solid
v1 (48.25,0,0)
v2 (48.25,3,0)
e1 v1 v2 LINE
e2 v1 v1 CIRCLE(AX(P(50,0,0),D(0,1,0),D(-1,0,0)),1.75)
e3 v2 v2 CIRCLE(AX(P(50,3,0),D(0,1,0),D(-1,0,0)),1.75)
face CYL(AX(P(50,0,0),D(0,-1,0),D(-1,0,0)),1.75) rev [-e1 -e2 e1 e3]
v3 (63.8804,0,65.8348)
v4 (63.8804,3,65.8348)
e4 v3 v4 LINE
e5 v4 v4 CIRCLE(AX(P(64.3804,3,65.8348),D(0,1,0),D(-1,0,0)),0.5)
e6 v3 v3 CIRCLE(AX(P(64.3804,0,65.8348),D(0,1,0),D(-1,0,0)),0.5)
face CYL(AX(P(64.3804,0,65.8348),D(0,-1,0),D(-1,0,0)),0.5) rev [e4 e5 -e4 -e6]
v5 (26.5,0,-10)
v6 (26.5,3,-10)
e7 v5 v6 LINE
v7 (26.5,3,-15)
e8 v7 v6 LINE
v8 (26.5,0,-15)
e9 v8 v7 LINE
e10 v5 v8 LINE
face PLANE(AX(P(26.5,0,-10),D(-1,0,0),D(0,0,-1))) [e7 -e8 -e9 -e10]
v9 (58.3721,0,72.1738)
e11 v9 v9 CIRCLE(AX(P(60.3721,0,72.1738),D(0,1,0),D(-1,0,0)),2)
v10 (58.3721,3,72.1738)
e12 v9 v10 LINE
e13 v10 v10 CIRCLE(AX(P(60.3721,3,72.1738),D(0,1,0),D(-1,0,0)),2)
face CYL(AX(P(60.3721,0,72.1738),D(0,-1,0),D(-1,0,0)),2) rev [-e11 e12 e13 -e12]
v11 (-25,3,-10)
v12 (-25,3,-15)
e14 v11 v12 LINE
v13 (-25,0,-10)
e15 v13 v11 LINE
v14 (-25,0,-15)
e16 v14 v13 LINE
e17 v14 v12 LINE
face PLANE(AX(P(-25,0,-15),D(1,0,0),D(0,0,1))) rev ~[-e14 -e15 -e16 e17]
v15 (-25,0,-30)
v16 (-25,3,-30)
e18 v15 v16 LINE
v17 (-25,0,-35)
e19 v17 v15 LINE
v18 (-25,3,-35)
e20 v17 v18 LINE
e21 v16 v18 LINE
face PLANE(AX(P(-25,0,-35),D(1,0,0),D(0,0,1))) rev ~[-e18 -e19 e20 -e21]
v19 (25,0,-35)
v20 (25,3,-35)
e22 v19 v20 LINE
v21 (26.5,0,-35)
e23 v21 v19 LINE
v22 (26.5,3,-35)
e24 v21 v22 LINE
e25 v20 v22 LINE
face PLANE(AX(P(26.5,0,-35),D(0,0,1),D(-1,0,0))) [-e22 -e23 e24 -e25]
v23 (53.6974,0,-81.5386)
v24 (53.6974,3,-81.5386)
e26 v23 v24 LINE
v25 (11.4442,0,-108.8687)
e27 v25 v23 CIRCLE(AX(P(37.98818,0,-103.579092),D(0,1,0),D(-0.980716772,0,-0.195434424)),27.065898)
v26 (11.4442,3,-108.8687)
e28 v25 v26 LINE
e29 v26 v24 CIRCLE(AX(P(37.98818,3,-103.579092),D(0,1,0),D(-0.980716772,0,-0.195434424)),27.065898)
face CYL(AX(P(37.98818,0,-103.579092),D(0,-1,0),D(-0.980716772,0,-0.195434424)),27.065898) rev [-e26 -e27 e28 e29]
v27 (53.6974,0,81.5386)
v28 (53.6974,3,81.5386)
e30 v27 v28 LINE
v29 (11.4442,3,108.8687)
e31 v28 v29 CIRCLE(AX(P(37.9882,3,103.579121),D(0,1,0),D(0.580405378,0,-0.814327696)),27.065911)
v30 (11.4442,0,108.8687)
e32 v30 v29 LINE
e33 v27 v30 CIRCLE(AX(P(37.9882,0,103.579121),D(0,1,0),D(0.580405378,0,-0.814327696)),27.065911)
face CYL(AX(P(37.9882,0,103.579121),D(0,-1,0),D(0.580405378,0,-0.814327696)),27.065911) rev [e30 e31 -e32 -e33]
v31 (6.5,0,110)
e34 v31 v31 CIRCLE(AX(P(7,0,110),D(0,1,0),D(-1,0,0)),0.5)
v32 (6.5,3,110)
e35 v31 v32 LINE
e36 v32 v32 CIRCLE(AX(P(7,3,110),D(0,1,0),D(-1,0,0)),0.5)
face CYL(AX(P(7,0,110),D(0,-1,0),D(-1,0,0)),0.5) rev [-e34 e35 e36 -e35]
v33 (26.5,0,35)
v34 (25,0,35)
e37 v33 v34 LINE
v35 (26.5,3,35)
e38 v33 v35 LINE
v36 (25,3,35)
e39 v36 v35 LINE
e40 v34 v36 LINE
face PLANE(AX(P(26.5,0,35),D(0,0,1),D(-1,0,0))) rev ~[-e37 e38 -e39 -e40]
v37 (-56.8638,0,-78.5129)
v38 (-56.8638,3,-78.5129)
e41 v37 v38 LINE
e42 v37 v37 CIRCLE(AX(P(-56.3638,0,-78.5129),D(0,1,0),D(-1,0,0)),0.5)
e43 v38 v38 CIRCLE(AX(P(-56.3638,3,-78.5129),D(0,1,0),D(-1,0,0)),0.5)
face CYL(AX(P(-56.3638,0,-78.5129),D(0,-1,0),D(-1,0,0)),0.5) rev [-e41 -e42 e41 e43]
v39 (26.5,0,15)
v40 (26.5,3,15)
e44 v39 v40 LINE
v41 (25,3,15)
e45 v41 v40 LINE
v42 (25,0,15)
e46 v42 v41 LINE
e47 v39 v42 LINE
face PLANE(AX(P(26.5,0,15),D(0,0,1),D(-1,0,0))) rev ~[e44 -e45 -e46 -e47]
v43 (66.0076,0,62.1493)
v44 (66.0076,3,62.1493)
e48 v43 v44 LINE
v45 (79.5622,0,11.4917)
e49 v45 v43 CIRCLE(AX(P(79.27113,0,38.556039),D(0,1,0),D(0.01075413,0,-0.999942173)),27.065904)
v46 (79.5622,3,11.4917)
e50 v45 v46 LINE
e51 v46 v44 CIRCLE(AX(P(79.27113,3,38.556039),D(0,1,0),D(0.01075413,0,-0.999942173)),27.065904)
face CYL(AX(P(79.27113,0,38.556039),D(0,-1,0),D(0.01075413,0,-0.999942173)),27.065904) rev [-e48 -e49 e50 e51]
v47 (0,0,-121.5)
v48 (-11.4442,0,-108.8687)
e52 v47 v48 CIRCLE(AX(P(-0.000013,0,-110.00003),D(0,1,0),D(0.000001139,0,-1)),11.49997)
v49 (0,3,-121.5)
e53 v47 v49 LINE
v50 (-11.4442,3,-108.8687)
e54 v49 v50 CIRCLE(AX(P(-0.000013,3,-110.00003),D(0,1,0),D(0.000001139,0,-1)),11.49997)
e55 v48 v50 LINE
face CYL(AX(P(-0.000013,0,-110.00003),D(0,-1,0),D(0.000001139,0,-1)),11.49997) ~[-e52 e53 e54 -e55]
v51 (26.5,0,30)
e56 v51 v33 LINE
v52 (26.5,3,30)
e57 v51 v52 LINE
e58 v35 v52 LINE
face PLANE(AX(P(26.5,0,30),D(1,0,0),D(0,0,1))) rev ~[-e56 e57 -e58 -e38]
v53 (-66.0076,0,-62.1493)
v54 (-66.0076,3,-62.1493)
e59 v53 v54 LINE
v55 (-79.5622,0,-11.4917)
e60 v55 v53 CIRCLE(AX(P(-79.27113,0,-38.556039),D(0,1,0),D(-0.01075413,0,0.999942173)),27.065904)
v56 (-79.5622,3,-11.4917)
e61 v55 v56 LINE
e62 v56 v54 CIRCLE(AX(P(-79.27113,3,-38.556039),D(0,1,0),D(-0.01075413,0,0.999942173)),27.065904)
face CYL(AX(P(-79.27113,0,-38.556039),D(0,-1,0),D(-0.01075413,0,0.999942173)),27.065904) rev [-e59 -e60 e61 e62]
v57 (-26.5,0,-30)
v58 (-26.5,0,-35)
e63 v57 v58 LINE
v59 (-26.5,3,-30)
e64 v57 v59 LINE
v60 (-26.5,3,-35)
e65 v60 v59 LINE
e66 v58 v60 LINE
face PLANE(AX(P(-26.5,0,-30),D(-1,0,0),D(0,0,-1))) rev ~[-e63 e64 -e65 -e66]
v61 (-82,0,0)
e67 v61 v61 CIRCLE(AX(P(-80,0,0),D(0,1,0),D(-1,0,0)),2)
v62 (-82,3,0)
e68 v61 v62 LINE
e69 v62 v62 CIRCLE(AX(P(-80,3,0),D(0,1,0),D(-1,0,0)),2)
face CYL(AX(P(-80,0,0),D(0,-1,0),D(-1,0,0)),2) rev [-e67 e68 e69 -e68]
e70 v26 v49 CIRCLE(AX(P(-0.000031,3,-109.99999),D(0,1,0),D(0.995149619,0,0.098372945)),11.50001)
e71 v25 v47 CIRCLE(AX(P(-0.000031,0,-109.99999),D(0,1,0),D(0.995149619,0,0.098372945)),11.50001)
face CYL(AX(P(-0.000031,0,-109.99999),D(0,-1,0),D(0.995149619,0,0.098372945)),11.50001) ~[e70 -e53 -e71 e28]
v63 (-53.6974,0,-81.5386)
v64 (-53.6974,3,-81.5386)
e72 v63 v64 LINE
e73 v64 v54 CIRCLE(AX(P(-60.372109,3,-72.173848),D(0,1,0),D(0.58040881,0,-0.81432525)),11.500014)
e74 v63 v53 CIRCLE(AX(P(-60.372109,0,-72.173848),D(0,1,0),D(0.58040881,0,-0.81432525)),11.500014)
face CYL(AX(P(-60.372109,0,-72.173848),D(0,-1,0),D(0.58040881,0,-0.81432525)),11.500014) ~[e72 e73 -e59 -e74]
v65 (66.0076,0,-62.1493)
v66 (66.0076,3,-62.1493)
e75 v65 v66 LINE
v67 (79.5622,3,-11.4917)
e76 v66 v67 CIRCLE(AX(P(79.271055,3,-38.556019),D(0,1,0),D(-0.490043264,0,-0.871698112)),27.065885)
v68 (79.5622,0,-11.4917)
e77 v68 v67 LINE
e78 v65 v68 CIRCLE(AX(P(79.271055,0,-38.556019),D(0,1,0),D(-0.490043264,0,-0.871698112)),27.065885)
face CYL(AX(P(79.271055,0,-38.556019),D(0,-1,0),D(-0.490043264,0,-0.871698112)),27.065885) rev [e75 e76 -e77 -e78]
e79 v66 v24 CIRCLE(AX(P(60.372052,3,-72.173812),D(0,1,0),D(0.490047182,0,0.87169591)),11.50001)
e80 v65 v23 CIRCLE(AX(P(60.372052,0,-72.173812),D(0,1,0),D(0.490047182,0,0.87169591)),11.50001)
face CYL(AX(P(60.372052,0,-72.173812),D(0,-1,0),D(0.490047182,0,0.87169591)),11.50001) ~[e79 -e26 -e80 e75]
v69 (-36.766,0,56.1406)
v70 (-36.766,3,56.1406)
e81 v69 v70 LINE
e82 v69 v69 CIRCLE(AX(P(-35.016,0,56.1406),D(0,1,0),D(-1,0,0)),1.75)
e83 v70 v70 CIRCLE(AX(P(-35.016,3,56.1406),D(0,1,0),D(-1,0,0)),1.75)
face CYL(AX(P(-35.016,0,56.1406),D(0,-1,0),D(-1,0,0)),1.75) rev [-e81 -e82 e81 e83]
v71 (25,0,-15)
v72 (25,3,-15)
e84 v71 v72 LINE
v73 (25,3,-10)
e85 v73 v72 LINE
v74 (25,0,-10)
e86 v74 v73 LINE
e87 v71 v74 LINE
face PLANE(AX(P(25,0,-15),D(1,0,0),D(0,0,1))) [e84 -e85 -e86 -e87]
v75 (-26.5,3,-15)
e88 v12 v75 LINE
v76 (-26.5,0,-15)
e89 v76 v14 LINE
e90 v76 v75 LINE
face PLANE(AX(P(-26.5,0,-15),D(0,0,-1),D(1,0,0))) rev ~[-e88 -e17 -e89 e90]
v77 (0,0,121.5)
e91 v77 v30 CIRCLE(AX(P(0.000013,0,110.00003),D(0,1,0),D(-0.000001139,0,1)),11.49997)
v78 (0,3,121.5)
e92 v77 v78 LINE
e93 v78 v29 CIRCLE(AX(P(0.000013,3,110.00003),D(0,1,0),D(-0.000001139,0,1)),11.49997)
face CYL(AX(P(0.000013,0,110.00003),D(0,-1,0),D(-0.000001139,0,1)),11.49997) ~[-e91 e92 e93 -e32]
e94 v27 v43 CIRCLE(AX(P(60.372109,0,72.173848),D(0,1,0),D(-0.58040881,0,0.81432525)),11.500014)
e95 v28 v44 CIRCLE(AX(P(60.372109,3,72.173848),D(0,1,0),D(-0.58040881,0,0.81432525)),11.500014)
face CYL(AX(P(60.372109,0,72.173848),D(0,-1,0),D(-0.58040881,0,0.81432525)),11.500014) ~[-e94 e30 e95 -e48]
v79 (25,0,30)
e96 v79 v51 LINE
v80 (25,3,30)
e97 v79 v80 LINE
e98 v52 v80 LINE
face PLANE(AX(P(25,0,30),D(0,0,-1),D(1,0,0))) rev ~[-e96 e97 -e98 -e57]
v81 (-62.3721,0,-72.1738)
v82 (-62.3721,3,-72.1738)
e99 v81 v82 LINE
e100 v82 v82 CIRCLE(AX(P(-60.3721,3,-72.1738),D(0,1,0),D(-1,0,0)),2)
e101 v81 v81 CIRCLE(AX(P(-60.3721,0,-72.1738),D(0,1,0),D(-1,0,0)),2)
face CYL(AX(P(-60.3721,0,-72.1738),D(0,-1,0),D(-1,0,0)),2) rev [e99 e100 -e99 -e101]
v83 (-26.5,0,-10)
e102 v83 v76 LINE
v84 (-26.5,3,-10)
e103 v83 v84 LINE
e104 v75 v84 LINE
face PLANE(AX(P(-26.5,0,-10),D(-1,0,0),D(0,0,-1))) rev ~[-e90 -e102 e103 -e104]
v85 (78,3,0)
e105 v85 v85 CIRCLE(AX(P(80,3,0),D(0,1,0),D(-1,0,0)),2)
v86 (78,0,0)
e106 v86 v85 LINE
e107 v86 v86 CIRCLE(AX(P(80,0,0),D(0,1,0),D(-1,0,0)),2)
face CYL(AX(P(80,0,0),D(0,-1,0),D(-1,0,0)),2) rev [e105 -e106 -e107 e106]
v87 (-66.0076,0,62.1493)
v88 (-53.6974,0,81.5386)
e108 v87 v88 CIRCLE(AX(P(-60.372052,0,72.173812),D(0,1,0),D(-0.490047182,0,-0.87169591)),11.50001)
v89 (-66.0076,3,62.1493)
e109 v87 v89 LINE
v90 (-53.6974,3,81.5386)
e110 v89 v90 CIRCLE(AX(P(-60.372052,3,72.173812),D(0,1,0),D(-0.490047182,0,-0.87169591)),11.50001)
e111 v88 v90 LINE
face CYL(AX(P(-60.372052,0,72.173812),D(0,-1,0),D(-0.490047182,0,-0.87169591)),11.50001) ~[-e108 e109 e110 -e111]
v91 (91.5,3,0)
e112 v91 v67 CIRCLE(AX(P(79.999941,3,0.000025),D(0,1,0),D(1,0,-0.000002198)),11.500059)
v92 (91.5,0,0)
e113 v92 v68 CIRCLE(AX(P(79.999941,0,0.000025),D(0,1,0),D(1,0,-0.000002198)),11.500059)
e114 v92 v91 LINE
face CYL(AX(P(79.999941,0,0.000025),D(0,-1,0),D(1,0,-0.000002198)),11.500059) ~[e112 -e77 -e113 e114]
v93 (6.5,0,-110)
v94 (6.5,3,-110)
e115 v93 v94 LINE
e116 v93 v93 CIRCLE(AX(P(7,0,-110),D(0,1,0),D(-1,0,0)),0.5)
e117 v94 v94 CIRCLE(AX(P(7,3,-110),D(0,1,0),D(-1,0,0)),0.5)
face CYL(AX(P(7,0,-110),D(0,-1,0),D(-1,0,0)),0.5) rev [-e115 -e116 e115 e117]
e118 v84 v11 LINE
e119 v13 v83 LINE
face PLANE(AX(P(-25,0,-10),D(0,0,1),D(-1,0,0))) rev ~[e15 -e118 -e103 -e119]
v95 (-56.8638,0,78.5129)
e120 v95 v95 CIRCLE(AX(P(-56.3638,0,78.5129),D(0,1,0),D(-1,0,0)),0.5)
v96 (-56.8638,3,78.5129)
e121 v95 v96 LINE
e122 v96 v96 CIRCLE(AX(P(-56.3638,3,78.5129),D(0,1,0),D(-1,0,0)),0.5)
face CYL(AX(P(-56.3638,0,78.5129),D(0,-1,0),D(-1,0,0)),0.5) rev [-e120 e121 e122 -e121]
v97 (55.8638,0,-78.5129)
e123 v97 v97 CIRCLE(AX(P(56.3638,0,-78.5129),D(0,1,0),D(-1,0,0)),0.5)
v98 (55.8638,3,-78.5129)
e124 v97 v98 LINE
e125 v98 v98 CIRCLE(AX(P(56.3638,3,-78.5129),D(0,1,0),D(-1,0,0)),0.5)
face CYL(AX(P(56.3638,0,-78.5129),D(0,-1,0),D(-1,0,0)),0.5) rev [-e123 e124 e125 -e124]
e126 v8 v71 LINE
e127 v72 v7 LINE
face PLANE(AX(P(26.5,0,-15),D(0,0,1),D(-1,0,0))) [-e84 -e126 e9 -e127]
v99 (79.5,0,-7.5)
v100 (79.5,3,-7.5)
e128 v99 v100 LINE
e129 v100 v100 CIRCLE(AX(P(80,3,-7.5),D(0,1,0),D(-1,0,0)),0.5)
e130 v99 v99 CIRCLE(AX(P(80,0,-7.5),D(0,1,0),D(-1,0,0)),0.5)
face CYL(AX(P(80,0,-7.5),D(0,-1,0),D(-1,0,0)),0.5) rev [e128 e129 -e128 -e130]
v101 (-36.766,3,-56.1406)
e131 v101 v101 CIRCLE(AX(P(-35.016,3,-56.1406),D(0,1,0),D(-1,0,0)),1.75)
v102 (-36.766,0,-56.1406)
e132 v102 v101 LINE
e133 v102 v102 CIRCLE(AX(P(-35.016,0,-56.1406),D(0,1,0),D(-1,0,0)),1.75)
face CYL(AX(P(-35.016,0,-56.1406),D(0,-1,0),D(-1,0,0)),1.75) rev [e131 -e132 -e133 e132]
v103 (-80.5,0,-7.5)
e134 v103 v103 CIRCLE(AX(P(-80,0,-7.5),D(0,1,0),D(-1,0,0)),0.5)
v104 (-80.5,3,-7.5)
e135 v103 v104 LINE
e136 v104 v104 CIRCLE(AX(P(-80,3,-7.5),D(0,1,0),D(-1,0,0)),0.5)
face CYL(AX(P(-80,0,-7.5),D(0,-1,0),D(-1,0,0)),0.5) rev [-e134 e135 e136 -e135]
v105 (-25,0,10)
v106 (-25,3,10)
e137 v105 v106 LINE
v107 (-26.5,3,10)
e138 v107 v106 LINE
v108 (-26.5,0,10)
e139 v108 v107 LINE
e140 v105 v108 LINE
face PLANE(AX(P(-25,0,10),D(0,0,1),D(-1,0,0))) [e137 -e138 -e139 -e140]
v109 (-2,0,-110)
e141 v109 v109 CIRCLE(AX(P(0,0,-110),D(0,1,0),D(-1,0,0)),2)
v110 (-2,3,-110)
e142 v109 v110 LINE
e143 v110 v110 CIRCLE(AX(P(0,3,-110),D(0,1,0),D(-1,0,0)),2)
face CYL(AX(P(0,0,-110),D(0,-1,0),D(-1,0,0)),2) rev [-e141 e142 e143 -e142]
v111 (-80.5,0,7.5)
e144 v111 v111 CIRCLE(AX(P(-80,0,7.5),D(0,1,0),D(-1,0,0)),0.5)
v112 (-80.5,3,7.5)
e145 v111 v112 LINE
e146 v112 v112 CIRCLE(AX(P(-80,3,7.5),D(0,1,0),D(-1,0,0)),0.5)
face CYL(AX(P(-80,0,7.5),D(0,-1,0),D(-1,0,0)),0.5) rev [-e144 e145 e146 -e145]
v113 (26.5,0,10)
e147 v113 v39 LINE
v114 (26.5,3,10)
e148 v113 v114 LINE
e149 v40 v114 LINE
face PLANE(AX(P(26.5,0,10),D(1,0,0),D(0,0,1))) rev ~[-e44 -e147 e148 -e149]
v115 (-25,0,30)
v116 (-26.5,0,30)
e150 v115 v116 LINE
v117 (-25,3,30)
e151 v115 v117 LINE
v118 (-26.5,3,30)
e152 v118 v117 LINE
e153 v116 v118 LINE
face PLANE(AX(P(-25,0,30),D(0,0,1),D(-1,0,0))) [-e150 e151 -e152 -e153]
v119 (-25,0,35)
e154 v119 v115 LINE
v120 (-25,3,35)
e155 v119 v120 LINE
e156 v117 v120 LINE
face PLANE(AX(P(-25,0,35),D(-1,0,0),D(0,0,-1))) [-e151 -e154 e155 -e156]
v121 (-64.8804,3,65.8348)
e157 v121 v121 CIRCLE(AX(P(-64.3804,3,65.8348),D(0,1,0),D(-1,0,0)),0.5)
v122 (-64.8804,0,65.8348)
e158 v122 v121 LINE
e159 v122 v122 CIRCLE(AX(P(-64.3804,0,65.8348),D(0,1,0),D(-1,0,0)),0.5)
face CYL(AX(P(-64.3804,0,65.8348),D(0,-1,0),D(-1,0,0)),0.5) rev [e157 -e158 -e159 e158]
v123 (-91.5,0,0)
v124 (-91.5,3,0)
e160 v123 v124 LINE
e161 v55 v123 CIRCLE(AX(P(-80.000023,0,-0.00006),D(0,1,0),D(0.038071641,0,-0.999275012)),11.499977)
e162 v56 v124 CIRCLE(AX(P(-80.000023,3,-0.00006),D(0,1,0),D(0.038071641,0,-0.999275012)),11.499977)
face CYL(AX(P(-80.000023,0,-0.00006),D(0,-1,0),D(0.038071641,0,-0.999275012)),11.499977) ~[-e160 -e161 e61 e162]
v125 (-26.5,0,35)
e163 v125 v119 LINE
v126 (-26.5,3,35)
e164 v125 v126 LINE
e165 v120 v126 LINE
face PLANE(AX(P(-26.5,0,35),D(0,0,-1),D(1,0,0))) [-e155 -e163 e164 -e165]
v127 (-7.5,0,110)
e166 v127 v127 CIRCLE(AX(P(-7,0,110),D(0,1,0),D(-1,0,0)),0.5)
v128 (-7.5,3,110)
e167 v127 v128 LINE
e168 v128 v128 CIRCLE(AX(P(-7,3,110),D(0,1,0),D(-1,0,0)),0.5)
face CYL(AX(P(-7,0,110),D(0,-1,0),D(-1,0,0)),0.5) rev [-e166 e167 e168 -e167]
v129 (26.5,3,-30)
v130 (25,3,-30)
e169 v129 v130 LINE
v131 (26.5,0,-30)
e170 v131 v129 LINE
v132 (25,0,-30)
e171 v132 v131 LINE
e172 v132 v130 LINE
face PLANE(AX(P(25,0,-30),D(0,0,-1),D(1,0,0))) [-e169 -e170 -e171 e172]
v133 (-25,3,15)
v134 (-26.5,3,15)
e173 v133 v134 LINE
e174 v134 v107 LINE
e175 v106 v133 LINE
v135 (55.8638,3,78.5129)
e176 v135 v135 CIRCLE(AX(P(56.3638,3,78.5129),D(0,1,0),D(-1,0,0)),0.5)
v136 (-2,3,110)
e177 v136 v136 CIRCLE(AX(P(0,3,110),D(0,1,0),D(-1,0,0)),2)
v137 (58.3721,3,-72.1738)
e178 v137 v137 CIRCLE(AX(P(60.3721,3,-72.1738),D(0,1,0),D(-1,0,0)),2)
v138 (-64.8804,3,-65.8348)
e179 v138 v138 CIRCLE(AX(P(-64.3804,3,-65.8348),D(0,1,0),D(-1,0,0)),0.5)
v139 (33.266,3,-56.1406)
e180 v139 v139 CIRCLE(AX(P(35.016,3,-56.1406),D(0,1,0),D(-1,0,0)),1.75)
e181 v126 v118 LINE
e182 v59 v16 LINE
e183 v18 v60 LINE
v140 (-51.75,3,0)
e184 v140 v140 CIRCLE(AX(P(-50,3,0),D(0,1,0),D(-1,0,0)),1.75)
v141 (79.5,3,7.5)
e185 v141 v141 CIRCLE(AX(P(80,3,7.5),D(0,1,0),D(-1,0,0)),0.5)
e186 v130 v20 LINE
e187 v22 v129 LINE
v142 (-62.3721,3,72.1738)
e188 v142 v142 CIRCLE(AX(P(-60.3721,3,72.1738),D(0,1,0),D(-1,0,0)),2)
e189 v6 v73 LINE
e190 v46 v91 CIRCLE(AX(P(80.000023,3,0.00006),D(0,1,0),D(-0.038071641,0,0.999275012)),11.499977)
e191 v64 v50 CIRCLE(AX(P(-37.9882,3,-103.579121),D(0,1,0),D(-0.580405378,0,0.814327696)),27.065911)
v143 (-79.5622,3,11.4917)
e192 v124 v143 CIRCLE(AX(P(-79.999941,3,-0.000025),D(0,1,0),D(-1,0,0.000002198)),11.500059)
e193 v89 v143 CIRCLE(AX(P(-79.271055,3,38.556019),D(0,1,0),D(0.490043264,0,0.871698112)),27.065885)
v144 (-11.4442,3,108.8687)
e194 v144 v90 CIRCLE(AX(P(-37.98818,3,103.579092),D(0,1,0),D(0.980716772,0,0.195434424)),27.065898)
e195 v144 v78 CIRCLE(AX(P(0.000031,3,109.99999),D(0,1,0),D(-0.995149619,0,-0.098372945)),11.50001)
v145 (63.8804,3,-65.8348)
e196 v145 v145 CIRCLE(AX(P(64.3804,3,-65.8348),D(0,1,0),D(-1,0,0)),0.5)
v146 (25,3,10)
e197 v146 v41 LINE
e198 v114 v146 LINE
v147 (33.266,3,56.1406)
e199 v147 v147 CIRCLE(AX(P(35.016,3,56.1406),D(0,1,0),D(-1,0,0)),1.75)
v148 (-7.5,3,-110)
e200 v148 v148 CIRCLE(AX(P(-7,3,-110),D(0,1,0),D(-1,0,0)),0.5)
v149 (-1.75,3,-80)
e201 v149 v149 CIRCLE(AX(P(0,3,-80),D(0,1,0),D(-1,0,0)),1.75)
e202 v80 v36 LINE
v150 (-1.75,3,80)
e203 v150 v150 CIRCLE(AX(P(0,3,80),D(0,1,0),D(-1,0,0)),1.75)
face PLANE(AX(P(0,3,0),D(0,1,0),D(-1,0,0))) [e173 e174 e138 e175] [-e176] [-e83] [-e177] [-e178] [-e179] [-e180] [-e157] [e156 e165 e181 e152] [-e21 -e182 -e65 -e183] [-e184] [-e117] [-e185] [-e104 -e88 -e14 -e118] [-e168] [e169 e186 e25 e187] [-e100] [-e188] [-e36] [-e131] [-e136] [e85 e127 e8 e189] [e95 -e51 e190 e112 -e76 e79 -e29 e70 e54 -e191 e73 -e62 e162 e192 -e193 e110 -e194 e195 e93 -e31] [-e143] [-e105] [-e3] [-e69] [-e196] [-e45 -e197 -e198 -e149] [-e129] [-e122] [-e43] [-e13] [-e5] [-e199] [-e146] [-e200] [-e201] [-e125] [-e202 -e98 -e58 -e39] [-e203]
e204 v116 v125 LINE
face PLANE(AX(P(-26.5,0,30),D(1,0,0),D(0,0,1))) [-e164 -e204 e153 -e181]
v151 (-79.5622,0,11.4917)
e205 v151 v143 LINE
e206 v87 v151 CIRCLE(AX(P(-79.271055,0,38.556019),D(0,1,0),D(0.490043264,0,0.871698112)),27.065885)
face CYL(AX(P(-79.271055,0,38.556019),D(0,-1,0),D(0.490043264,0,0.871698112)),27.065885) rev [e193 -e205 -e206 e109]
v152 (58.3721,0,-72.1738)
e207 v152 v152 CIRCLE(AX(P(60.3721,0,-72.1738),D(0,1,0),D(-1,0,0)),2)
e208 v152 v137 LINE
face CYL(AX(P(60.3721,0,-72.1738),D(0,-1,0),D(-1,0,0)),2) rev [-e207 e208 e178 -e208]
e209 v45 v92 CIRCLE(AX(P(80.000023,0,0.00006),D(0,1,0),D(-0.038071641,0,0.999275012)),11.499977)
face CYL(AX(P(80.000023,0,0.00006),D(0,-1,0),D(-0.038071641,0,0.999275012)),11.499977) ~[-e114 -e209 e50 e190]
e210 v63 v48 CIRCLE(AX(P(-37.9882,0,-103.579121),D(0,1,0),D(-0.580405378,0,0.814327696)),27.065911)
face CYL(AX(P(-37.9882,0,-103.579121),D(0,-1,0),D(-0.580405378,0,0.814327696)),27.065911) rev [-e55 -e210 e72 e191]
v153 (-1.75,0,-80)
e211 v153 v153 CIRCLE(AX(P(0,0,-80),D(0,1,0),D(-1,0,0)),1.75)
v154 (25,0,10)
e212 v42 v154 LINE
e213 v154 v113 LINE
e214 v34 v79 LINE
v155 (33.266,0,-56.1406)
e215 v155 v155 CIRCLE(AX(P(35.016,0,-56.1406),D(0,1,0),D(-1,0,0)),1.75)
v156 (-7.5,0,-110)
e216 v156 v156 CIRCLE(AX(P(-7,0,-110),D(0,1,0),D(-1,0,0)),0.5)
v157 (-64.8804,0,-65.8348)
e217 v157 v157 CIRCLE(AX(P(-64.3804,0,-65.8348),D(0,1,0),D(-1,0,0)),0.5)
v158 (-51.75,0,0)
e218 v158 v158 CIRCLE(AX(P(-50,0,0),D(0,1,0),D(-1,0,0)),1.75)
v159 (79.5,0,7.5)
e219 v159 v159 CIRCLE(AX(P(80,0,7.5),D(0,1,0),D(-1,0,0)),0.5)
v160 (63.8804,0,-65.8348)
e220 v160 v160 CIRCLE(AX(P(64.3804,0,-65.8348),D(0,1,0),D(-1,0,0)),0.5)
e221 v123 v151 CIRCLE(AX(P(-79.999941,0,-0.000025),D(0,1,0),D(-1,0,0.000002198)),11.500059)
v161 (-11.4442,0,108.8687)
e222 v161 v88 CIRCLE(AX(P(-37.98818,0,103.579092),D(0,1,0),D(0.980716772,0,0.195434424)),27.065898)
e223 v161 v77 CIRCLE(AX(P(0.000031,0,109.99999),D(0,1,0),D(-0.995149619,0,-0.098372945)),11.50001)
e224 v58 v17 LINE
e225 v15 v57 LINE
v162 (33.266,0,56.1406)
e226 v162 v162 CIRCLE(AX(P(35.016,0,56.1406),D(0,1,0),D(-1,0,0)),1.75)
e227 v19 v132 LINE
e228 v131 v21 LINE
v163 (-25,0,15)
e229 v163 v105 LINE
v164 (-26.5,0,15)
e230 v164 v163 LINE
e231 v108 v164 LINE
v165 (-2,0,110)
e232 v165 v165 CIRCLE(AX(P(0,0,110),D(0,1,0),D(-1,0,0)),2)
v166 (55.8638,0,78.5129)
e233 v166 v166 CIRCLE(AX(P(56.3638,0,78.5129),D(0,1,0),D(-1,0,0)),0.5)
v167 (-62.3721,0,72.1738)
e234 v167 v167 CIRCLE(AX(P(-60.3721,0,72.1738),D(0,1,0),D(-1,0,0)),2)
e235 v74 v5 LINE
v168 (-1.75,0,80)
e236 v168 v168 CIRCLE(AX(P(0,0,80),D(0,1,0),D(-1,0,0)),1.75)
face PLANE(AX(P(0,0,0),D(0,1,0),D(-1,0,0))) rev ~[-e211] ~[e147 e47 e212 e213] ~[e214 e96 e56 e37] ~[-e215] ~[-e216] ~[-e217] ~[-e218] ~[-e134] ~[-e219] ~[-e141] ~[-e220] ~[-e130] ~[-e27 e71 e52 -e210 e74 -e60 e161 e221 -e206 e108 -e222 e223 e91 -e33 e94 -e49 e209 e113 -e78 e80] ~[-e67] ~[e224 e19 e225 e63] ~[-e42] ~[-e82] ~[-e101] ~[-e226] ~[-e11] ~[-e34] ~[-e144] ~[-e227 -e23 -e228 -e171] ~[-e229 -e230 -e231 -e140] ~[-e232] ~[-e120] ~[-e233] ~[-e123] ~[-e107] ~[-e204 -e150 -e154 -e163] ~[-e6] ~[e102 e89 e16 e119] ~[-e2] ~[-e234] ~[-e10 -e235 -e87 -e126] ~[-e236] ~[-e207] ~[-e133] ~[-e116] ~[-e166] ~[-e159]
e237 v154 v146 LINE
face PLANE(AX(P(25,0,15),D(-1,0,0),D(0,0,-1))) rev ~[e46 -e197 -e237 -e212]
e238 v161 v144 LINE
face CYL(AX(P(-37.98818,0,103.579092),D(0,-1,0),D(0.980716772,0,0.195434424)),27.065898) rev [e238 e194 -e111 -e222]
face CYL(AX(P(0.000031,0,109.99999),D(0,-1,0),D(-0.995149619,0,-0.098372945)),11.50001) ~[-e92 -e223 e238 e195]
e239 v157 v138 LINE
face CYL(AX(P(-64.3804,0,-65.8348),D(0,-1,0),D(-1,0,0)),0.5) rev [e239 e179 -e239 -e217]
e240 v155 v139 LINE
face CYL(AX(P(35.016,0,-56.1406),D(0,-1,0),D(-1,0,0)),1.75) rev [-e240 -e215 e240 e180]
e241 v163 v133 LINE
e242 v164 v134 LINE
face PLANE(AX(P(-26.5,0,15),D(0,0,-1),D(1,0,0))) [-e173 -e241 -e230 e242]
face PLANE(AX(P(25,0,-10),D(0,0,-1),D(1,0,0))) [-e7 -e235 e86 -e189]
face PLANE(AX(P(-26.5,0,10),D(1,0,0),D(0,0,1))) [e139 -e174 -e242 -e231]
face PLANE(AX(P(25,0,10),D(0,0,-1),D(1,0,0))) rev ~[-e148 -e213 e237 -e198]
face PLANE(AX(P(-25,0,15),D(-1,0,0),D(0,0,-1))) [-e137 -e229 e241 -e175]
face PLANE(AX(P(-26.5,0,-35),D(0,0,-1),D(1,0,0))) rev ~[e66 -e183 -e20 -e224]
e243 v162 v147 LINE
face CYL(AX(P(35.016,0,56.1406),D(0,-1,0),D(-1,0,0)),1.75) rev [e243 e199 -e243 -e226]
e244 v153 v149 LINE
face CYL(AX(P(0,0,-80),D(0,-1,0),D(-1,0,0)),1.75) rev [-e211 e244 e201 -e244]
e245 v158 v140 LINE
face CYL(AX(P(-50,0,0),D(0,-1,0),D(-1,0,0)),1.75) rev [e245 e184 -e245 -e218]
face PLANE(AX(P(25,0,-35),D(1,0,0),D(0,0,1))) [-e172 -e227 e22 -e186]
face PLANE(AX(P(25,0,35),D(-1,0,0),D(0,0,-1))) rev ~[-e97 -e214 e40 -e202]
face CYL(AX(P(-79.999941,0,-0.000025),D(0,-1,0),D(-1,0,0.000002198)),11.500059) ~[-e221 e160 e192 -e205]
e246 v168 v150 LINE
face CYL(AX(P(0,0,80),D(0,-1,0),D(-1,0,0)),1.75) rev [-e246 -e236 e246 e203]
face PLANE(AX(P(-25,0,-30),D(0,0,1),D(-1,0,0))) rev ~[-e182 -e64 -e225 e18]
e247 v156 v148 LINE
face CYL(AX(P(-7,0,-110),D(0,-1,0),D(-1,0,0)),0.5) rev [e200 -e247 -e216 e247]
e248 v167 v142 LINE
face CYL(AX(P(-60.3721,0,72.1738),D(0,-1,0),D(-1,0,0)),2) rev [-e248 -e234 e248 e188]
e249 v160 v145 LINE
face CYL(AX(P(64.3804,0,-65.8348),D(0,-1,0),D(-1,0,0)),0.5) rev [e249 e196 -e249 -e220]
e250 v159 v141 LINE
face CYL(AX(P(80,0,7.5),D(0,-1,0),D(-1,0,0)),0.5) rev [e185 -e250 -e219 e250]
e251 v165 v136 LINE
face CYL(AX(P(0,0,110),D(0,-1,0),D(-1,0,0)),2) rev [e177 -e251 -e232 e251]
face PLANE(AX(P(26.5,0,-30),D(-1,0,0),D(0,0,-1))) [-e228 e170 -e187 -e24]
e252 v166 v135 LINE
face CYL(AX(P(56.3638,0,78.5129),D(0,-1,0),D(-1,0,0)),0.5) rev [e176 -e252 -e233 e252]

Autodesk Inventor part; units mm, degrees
ref_plane "YZ Plane" through (0, 0, 0) normal (1, 0, 0) x (0, 1, 0)
ref_plane "XZ Plane" through (0, 0, 0) normal (0, 1, 0) x (-1, 0, 0)
ref_plane "XY Plane" through (0, 0, 0) normal (0, 0, 1) x (1, 0, 0)
sketch "Sketch1" plane through (0, 0, 0) normal (0, 1, 0) x (-1, 0, 0)
  line L0 (0, -135) -> (0, 190) construction
  line L1 (111, 0) -> (-155, 0) construction
  ellipse E0 centre (0, 0) end of major axis (0, 110) minor radius 80 construction
  arc A0 (79.5622, -11.4917) -> (91.5, 0) centre (80, 0) ccw
  arc A1 (0, -121.5) -> (11.4442, -108.8687) centre (0, -110) ccw
  arc A2 (53.6974, -81.5386) -> (66.0076, -62.1493) centre (60.3721, -72.1738) ccw
  arc A3 (79.5622, -11.4917) -> (66.0076, -62.1493) centre (79.2711, -38.556) ccw
  arc A4 (53.6974, -81.5386) -> (11.4442, -108.8687) centre (37.9882, -103.5791) ccw
  arc A5 (-91.5, 0) -> (-79.5622, -11.4917) centre (-80, 0) ccw
  arc A6 (-11.4442, -108.8687) -> (0, -121.5) centre (0, -110) ccw
  arc A7 (-66.0076, -62.1493) -> (-53.6974, -81.5386) centre (-60.3721, -72.1738) ccw
  arc A8 (-66.0076, -62.1493) -> (-79.5622, -11.4917) centre (-79.2711, -38.556) ccw
  arc A9 (-11.4442, -108.8687) -> (-53.6974, -81.5386) centre (-37.9882, -103.5791) ccw
  arc A10 (91.5, 0) -> (79.5622, 11.4917) centre (80, 0) ccw
  arc A11 (11.4442, 108.8687) -> (0, 121.5) centre (0, 110) ccw
  arc A12 (66.0076, 62.1493) -> (53.6974, 81.5386) centre (60.3721, 72.1738) ccw
  arc A13 (66.0076, 62.1493) -> (79.5622, 11.4917) centre (79.2711, 38.556) ccw
  arc A14 (11.4442, 108.8687) -> (53.6974, 81.5386) centre (37.9882, 103.5791) ccw
  arc A15 (0, 121.5) -> (-11.4442, 108.8687) centre (0, 110) ccw
  arc A16 (-53.6974, 81.5386) -> (-11.4442, 108.8687) centre (-37.9882, 103.5791) ccw
  arc A17 (-53.6974, 81.5386) -> (-66.0076, 62.1493) centre (-60.3721, 72.1738) ccw
  arc A18 (-79.5622, 11.4917) -> (-66.0076, 62.1493) centre (-79.2711, 38.556) ccw
  arc A19 (-79.5622, 11.4917) -> (-91.5, 0) centre (-80, 0) ccw
  line L2 (53.0109, -83.8154) -> (69.937, -57.0473) construction
  circle A20 centre (56.3638, -78.5129) radius 0.5
  line L3 (66.5644, -76.0894) -> (31.8982, -54.1692) construction
  circle A21 centre (64.3804, -65.8348) radius 0.5
  line L4 (80, -8.2711) -> (80, 9) construction
  circle A22 centre (80, -7.5) radius 0.5
  line L5 (9.0844, -110) -> (-9.2812, -110) construction
  circle A23 centre (7, -110) radius 0.5
  circle A24 centre (-56.3638, -78.5129) radius 0.5
  circle A25 centre (-64.3804, -65.8348) radius 0.5
  circle A26 centre (-80, -7.5) radius 0.5
  circle A27 centre (-7, -110) radius 0.5
  circle A28 centre (56.3638, 78.5129) radius 0.5
  circle A29 centre (64.3804, 65.8348) radius 0.5
  circle A30 centre (80, 7.5) radius 0.5
  circle A31 centre (7, 110) radius 0.5
  circle A32 centre (-7, 110) radius 0.5
  circle A33 centre (-56.3638, 78.5129) radius 0.5
  circle A34 centre (-64.3804, 65.8348) radius 0.5
  circle A35 centre (-80, 7.5) radius 0.5
  circle A36 centre (60.3721, -72.1738) radius 2
  circle A37 centre (0, -110) radius 2
  circle A38 centre (-60.3721, -72.1738) radius 2
  circle A39 centre (80, 0) radius 2
  circle A40 centre (-80, 0) radius 2
  circle A41 centre (60.3721, 72.1738) radius 2
  circle A42 centre (0, 110) radius 2
  circle A43 centre (-60.3721, 72.1738) radius 2
  line L6 (-12.5, 65) -> (-12.5, 74)
  circle A44 centre (50, 0) radius 1.75
  circle A45 centre (35.016, -56.1406) radius 1.75
  circle A46 centre (0, -80) radius 1.75
  circle A47 centre (-50, 0) radius 1.75
  circle A48 centre (-35.016, -56.1406) radius 1.75
  line L7 (66.5644, 76.0894) -> (31.8982, 54.1692) construction
  circle A49 centre (0, 110) radius 2
  circle A50 centre (35.016, 56.1406) radius 1.75
  circle A51 centre (0, 80) radius 1.75
  circle A52 centre (-35.016, 56.1406) radius 1.75
  dimension "d0" = 110
  dimension "d1" = 80
  dimension "d2" = 23
  dimension "d3" = 23
  dimension "d4" = 23
  dimension "d6" = 1
  dimension "d7" = 7.5
  dimension "d8" = 1
  dimension "d9" = 7.5
  dimension "d12" = 1
  dimension "d13" = 7
  dimension "d22" = 4
  dimension "d23" = 4
  dimension "d24" = 4
  dimension "d25" = 4
  dimension "d26" = 4
  dimension "d47" = 3.5
  dimension "d48" = 30
  dimension "d49" = 3.5
  dimension "d50" = 30
  dimension "d51" = 3.5
  dimension "d52" = 30
extrude "Extrusion7" add sketch "Sketch1" along normal blind 3
sketch "Sketch2" plane through (0, 0, 0) normal (0, -1, 0) x (1, 0, 0)
  line L0 (0, 96) -> (0, -64) construction
  line L1 (-60, 0) -> (61, 0) construction
  line L2 (-26.5, 15) -> (-25, 15)
  line L3 (-25, 15) -> (-25, 10)
  line L4 (-25, 10) -> (-26.5, 10)
  line L5 (-26.5, 10) -> (-26.5, 15)
  line L6 (-26.5, 35) -> (-25, 35)
  line L7 (-25, 35) -> (-25, 30)
  line L8 (-25, 30) -> (-26.5, 30)
  line L9 (-26.5, 30) -> (-26.5, 35)
  line L10 (26.5, 15) -> (25, 15)
  line L11 (25, 15) -> (25, 10)
  line L12 (25, 10) -> (26.5, 10)
  line L13 (26.5, 10) -> (26.5, 15)
  line L14 (26.5, 35) -> (25, 35)
  line L15 (25, 35) -> (25, 30)
  line L16 (25, 30) -> (26.5, 30)
  line L17 (26.5, 30) -> (26.5, 35)
  line L18 (-26.5, -15) -> (-25, -15)
  line L19 (-25, -15) -> (-25, -10)
  line L20 (-25, -10) -> (-26.5, -10)
  line L21 (-26.5, -10) -> (-26.5, -15)
  line L22 (-26.5, -35) -> (-25, -35)
  line L23 (-25, -35) -> (-25, -30)
  line L24 (-25, -30) -> (-26.5, -30)
  line L25 (-26.5, -30) -> (-26.5, -35)
  line L26 (26.5, -15) -> (25, -15)
  line L27 (25, -15) -> (25, -10)
  line L28 (25, -10) -> (26.5, -10)
  line L29 (26.5, -10) -> (26.5, -15)
  line L30 (26.5, -35) -> (25, -35)
  line L31 (25, -35) -> (25, -30)
  line L32 (25, -30) -> (26.5, -30)
  line L33 (26.5, -30) -> (26.5, -35)
  point P0 (0, 0)
  dimension "d57" = 1.5
  dimension "d58" = 5
  dimension "d59" = 25
  dimension "d60" = 10
  dimension "d61" = 1.5
  dimension "d62" = 5
  dimension "d63" = 30
extrude "Extrusion8" cut sketch "Sketch2" against normal blind 31.25
properties part number "BodyBottom"
